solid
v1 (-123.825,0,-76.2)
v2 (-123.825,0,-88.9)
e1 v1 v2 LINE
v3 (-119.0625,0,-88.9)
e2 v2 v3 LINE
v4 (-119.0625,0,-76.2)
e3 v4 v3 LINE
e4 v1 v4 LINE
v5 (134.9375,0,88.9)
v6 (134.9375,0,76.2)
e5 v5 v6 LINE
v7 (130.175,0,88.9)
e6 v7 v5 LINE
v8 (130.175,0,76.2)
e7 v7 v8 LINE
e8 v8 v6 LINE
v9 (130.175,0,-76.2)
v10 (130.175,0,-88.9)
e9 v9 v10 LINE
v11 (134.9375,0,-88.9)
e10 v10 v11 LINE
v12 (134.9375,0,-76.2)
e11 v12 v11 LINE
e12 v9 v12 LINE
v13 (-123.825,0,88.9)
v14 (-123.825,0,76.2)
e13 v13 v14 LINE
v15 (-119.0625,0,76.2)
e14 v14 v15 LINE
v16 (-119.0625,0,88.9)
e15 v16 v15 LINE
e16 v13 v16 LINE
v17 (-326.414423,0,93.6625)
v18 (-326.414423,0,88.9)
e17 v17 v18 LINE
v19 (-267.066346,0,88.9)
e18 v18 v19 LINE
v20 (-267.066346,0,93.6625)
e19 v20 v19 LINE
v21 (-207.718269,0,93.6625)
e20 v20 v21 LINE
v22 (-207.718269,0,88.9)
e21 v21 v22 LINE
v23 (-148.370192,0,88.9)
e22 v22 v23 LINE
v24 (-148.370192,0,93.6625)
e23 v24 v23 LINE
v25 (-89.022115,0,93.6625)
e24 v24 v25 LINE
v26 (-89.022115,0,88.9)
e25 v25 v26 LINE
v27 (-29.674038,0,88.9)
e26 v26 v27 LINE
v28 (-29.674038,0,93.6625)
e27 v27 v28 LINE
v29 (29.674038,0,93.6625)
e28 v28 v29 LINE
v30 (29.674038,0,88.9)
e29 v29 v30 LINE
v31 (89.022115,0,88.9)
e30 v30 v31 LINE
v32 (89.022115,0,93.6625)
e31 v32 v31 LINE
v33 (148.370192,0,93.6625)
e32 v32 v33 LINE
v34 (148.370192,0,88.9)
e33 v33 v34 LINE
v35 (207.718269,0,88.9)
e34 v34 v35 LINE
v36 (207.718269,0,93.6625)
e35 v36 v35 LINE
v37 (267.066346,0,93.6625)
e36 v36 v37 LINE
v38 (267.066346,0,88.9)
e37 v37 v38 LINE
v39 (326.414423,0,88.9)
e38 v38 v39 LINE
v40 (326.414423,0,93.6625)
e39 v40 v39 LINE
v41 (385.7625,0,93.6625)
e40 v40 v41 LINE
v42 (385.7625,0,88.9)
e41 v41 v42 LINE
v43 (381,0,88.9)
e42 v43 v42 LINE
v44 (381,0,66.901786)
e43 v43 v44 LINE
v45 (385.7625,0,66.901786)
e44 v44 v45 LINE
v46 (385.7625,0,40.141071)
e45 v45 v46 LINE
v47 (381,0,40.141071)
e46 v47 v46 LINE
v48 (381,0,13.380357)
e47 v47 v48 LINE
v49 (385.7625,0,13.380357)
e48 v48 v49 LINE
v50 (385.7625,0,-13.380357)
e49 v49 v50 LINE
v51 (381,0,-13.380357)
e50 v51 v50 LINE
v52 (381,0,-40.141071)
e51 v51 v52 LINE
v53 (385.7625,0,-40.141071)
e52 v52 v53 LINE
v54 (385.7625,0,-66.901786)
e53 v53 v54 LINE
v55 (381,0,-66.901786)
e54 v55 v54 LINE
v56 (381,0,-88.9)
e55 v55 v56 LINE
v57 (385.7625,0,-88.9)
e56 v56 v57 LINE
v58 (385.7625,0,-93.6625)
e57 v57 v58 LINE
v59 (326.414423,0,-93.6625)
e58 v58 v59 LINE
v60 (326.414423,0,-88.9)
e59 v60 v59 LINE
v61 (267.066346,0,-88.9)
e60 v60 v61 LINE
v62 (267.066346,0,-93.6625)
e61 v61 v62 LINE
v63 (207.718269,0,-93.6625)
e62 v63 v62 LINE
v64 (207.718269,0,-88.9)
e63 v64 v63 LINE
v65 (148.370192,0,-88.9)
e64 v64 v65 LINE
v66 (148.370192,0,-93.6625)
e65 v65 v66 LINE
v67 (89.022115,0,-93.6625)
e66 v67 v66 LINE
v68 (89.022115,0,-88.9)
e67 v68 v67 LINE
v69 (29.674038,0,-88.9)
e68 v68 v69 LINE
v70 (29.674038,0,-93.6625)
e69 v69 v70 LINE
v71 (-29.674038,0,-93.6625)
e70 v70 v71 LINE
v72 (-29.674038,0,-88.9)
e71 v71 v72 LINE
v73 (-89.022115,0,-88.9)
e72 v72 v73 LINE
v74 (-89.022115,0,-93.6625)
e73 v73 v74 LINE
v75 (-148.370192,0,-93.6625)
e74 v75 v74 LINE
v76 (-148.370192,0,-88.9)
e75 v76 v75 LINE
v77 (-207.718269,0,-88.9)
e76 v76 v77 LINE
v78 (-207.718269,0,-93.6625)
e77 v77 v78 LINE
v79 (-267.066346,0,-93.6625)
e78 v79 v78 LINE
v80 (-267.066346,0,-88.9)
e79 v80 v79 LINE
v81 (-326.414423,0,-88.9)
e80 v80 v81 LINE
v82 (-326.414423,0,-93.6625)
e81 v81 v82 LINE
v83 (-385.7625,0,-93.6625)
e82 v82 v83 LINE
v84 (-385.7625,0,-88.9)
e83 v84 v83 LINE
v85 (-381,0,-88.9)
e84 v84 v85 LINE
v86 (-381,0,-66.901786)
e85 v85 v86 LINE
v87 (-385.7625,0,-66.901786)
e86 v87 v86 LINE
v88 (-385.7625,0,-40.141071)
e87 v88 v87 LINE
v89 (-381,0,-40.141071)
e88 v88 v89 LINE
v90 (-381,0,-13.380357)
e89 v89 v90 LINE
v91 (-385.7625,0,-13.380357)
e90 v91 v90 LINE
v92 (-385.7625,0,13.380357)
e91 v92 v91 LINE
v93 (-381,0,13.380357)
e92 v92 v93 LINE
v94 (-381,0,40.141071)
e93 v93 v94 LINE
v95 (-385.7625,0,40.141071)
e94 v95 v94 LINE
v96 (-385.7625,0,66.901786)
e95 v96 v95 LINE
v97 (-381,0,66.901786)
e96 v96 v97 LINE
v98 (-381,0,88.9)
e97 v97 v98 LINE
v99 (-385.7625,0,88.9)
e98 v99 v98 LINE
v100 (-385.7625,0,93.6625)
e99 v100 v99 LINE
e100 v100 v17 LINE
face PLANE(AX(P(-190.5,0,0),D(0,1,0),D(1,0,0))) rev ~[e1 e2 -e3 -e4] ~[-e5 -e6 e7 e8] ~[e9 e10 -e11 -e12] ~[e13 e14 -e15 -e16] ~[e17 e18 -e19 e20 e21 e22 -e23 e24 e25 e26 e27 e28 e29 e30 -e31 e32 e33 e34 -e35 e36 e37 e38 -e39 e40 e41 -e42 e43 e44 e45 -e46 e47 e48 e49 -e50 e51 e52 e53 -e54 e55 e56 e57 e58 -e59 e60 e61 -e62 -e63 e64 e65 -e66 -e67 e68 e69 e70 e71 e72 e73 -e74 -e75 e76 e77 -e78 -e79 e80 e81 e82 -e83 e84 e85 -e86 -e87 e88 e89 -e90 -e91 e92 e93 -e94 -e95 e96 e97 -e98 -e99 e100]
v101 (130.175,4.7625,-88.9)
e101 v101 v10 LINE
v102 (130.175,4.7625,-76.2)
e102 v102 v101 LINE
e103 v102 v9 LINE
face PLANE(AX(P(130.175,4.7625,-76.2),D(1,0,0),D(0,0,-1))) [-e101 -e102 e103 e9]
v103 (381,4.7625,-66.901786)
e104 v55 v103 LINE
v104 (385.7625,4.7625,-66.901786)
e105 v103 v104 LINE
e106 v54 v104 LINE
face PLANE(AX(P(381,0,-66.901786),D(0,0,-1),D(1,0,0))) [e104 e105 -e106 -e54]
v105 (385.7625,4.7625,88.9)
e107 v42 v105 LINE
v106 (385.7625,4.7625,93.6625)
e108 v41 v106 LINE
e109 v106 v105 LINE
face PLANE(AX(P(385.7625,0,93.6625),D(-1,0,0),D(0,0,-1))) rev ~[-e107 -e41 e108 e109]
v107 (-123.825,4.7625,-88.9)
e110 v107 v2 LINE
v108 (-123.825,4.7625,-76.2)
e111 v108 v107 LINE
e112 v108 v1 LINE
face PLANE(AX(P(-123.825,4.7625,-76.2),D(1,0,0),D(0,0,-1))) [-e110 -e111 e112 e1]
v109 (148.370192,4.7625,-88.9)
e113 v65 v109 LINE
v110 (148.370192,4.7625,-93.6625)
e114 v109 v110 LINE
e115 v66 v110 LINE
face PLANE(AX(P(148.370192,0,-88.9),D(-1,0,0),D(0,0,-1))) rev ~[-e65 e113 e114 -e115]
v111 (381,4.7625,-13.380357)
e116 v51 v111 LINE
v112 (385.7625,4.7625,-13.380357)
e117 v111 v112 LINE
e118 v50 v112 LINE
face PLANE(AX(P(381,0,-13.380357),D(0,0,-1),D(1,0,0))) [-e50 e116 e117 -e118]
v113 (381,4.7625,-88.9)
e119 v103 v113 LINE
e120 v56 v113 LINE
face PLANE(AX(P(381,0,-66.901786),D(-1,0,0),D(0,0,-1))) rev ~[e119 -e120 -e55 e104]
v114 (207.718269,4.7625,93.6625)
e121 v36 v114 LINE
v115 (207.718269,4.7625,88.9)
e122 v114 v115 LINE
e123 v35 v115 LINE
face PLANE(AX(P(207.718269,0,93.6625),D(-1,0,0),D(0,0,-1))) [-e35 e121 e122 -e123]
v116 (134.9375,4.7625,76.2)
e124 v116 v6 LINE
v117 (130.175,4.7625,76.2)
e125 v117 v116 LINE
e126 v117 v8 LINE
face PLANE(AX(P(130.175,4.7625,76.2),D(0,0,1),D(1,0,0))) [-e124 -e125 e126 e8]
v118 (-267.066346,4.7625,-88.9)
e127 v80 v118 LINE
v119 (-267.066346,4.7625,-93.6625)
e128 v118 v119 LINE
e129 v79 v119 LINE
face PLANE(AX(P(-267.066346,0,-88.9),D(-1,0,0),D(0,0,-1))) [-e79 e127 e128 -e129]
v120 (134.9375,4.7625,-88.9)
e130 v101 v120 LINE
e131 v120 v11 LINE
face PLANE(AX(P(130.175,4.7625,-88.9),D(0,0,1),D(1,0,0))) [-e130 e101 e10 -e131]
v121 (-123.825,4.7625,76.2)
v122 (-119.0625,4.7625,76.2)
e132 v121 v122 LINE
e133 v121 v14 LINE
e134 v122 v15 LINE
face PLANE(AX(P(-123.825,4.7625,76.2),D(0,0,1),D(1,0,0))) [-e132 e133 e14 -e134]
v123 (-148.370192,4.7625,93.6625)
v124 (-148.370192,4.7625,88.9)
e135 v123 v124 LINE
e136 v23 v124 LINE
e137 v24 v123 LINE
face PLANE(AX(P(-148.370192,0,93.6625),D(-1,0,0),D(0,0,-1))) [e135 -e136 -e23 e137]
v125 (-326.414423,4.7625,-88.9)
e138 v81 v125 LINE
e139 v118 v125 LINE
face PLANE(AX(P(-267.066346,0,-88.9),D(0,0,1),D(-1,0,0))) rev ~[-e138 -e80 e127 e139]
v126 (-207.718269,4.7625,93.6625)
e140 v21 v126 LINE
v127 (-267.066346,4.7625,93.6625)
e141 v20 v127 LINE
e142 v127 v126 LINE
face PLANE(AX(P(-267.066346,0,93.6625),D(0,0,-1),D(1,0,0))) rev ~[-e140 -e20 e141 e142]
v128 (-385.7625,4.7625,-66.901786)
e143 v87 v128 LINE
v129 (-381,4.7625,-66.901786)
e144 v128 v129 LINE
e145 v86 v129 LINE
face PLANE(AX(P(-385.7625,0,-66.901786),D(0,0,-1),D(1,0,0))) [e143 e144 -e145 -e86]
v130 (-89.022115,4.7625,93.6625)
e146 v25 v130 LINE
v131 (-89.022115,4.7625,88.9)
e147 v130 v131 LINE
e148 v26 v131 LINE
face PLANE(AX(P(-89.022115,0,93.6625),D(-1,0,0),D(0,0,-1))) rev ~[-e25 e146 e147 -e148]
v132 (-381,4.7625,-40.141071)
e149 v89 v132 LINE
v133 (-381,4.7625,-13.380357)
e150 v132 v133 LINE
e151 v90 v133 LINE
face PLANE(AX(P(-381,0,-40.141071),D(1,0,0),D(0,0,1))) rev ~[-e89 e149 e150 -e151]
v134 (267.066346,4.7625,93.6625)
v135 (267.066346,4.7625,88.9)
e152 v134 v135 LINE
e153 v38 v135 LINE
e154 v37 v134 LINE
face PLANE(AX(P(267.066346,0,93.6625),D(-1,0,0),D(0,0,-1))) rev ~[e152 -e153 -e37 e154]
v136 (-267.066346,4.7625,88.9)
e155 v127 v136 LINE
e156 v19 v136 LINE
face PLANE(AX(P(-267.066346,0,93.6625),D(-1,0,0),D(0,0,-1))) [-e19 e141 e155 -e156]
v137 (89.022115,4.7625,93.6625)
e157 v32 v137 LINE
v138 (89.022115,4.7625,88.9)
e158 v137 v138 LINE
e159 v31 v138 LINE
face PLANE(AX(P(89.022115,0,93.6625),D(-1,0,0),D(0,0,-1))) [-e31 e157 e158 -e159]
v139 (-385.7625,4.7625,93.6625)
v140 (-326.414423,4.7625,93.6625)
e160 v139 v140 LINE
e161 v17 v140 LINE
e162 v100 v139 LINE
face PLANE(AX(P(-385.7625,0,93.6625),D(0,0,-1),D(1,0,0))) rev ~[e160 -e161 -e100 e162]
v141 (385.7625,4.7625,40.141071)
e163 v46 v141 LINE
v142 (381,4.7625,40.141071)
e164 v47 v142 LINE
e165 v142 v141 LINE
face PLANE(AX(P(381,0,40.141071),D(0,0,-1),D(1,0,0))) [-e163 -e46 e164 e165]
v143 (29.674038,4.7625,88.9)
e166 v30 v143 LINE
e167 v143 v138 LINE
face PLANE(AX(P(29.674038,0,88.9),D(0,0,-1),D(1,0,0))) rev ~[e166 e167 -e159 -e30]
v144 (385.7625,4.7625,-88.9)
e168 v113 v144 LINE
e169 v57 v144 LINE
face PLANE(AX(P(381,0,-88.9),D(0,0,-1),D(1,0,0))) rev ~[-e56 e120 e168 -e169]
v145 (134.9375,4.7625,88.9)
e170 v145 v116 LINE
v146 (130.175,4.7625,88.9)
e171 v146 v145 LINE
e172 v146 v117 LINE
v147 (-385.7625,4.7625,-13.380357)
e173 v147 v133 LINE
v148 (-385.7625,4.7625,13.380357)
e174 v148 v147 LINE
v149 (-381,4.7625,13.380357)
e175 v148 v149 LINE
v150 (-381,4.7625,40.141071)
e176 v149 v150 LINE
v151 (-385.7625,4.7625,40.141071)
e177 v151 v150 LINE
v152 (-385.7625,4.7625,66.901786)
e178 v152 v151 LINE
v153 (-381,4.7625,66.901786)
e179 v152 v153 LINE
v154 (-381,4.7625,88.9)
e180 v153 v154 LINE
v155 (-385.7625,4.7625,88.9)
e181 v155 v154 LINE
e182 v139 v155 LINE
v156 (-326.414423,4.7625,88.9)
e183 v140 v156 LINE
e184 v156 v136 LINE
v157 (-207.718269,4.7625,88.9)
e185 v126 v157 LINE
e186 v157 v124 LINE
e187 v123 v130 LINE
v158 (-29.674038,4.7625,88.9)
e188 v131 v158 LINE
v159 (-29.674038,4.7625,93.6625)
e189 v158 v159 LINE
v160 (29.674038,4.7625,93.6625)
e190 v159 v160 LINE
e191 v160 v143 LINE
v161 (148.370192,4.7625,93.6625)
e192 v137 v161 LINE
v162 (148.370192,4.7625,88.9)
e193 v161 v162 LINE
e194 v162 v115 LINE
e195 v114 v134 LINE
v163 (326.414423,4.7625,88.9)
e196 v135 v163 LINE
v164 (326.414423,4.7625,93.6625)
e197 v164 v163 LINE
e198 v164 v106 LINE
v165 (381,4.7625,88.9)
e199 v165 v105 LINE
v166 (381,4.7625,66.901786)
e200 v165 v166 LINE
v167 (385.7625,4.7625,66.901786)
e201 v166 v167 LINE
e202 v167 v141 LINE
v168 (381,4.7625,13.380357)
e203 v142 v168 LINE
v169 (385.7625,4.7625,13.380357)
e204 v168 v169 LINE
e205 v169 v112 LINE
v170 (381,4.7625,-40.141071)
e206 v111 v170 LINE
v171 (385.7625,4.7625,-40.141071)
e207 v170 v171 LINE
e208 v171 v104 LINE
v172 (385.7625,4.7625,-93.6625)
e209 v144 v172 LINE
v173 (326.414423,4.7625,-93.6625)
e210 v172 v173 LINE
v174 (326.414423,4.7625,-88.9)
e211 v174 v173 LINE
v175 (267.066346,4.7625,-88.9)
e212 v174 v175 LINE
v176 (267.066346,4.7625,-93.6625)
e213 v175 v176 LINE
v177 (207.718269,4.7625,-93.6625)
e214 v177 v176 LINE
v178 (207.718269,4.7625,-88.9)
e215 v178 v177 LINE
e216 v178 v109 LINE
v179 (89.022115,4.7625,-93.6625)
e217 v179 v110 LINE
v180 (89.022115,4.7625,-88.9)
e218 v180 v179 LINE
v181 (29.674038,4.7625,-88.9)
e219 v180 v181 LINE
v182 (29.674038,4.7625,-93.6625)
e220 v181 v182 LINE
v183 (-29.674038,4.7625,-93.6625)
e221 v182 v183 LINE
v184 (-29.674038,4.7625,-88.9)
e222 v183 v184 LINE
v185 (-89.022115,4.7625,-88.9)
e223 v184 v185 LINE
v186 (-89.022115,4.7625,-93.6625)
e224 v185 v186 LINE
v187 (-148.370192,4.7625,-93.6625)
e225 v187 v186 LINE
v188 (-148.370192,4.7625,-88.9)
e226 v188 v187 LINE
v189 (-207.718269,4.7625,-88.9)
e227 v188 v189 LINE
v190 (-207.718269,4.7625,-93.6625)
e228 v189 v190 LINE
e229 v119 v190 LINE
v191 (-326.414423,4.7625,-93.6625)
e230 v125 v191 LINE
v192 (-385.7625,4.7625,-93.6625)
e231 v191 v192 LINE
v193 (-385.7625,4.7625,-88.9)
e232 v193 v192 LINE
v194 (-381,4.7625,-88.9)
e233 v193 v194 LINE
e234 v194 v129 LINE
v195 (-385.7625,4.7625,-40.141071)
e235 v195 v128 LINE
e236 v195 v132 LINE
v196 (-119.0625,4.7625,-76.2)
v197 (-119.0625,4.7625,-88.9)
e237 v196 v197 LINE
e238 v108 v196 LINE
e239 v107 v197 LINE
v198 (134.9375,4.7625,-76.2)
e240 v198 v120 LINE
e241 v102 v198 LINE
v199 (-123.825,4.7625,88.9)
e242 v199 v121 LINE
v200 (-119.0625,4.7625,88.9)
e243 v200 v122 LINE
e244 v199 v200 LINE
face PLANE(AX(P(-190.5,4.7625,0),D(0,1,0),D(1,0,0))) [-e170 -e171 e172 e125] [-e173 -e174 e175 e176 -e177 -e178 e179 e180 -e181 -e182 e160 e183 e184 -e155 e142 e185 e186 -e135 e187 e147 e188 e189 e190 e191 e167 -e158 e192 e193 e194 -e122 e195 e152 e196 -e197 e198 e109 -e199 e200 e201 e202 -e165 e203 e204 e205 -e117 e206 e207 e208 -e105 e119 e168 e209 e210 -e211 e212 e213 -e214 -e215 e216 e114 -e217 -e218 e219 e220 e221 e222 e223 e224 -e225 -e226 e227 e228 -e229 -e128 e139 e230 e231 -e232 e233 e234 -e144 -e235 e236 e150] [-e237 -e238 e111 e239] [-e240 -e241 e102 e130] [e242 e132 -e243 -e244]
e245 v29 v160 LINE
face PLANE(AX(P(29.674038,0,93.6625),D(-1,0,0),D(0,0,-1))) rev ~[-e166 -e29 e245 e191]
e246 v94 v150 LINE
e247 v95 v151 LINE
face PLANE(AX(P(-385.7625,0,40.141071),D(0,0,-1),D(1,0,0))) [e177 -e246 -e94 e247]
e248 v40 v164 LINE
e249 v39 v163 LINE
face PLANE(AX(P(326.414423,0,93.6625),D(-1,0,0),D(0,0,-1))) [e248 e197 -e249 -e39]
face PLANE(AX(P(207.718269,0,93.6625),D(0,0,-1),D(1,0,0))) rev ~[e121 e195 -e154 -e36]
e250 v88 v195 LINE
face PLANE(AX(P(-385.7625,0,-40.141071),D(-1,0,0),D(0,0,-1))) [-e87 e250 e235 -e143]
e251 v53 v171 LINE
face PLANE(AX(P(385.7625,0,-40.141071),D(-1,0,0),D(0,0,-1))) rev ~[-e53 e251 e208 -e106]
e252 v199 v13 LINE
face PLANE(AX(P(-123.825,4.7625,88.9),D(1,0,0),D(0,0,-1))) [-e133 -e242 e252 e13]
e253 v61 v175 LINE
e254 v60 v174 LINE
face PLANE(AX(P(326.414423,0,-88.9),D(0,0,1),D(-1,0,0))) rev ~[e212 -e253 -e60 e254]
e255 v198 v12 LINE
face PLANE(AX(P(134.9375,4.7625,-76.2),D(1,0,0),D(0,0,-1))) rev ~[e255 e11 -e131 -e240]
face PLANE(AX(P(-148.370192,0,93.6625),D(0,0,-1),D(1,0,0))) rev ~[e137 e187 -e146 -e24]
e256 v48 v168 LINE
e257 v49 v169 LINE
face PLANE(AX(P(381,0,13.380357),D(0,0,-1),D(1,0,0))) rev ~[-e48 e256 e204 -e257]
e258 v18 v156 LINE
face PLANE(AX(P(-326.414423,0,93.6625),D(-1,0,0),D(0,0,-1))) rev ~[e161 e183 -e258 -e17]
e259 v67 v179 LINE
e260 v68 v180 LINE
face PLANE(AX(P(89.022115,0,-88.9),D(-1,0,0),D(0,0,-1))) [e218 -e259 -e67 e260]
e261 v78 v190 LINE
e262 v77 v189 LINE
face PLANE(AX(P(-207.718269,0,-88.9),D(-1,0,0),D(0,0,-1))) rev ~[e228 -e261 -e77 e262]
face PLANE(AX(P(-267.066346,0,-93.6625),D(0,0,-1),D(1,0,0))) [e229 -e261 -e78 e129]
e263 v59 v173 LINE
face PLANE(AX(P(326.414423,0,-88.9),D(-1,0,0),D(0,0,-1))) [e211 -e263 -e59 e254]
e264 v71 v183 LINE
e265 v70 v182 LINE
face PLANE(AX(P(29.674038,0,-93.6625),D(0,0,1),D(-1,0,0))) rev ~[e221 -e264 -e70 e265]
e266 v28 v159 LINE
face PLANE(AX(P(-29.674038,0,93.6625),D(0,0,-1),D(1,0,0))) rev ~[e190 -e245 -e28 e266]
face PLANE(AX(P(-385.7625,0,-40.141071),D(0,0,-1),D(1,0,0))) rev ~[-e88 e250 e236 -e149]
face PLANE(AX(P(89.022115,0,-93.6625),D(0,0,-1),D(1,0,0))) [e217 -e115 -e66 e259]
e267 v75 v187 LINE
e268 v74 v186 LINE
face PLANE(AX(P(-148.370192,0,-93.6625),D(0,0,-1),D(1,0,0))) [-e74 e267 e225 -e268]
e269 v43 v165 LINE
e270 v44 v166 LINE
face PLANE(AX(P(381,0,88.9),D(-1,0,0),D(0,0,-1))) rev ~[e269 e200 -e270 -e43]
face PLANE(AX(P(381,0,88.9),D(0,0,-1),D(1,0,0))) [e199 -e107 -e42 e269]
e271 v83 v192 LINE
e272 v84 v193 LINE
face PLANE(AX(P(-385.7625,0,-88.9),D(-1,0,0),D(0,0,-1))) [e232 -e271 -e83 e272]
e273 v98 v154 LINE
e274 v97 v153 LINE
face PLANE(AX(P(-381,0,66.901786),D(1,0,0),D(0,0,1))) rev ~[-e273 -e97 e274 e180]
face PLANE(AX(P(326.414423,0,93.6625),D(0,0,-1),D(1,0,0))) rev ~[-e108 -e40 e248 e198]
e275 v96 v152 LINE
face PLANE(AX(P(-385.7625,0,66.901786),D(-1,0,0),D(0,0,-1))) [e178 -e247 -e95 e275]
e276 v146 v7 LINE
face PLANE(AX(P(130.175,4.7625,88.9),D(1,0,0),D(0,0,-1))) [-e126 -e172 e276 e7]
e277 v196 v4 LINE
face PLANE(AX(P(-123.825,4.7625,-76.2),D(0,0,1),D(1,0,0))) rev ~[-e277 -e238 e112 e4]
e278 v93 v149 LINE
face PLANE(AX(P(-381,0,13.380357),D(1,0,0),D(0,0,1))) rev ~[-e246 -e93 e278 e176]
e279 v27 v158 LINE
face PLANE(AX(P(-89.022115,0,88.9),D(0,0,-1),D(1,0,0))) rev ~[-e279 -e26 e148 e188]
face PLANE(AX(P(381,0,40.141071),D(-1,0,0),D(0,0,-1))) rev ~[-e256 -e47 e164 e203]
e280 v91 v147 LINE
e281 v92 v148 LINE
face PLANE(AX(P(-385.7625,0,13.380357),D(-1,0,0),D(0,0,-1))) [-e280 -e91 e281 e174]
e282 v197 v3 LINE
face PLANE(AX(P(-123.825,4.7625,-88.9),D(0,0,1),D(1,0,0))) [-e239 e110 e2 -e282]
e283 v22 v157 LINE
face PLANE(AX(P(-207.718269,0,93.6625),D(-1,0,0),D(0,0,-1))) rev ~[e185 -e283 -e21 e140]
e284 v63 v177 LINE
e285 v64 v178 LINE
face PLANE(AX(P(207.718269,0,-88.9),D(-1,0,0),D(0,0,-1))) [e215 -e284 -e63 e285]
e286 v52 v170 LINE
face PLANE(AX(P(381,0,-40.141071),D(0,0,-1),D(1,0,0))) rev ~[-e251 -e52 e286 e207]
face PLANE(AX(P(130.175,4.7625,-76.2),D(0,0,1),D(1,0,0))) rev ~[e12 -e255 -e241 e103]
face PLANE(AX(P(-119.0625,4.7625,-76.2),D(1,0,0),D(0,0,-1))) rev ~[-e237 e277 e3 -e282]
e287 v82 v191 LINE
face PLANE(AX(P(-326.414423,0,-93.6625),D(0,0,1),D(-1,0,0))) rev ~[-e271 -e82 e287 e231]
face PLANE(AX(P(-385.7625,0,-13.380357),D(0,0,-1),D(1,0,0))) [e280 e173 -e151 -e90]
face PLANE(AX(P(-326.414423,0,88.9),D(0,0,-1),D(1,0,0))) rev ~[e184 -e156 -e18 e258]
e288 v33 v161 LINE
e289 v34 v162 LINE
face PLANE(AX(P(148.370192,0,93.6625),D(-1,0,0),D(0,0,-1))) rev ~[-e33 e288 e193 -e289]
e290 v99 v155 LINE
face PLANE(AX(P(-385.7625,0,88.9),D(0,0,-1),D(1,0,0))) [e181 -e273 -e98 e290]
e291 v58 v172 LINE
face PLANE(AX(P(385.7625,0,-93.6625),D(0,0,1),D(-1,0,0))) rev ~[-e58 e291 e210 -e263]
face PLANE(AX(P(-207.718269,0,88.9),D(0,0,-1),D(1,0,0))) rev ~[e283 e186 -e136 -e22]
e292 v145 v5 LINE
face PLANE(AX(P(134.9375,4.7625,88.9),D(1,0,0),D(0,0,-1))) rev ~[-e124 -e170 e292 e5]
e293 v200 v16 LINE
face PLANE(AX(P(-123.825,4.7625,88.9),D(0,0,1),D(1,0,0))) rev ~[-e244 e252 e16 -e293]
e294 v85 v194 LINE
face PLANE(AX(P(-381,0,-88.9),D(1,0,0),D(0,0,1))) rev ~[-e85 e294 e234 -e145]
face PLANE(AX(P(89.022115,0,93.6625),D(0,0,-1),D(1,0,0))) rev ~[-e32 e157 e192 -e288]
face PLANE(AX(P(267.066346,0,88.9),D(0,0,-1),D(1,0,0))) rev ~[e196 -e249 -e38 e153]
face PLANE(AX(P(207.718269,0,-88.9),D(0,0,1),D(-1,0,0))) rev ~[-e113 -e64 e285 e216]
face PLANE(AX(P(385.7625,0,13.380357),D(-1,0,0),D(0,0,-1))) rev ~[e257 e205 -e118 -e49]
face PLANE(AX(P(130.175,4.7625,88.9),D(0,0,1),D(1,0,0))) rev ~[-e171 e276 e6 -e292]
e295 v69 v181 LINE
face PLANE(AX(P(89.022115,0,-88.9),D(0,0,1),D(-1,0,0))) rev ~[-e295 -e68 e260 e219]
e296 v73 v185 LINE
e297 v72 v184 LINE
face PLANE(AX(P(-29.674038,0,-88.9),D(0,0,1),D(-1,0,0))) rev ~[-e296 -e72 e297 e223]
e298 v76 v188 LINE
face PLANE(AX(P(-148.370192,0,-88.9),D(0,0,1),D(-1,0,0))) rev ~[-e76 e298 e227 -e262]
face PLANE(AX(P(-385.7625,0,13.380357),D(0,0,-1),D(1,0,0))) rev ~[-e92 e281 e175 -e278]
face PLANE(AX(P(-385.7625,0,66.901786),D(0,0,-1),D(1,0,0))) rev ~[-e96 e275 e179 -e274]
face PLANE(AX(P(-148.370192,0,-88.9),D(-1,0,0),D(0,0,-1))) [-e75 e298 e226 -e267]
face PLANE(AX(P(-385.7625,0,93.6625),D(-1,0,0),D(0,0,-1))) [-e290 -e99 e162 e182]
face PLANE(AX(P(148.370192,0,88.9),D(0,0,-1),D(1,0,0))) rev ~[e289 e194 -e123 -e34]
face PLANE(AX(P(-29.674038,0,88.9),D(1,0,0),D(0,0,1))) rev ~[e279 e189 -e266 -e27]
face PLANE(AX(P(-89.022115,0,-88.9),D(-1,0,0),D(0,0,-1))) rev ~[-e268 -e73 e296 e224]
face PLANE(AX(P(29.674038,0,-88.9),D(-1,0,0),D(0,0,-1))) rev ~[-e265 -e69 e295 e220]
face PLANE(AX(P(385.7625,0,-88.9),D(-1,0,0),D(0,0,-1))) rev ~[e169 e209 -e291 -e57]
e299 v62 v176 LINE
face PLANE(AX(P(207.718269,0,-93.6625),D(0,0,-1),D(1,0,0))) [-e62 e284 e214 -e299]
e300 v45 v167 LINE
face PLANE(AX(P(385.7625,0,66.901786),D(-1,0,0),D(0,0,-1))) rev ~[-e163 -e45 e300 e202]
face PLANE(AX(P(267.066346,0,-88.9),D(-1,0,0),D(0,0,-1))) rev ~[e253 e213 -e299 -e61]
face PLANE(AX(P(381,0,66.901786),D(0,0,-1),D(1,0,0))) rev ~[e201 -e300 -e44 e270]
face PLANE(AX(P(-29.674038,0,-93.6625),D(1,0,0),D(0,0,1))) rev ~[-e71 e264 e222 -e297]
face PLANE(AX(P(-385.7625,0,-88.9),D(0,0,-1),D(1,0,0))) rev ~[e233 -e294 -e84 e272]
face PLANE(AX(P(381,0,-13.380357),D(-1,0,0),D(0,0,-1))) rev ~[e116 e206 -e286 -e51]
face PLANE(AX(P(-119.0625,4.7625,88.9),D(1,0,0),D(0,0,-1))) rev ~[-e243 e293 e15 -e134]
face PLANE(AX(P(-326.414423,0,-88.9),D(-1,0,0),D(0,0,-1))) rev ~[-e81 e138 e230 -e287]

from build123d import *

# Parameters (mm, degrees)
SKETCH1_W           = 54.585576923
SKETCH1_H           = 4.7625
SKETCH1_W_2         = 4.7625
SKETCH1_W_3         = 59.348076923
SKETCH1_H_2         = 26.760714285
SKETCH1_H_3         = 26.760714286
BOSS_EXTRUDE1_DEPTH = 4.7625
SKETCH2_W           = 4.7625
SKETCH2_H           = 12.7
CUT_EXTRUDE1_DEPTH  = 397.998805689


with BuildPart() as part:
    # Sketch1 → Boss-Extrude1 (new body)
    with BuildSketch(Plane(origin=(0, 0, 0), x_dir=(1, 0, 0), z_dir=(0, 1, 0))):
        Polygon((0, -88.9), (0, 88.9), (-29.674038462, 88.9), (-89.022115385, 88.9), (-148.370192308, 88.9), (-207.718269231, 88.9), (-267.066346154, 88.9), (-326.414423077, 88.9), (-381, 88.9), (-381, 66.901785714), (-381, 40.141071429), (-381, 13.380357143), (-381, -13.380357143), (-381, -40.141071429), (-381, -66.901785714), (-381, -88.9), (-326.414423077, -88.9), (-267.066346154, -88.9), (-207.718269231, -88.9), (-148.370192308, -88.9), (-89.022115385, -88.9), (-29.674038462, -88.9), align=None)
        Polygon((29.674038462, 88.9), (0, 88.9), (0, -88.9), (29.674038462, -88.9), (89.022115385, -88.9), (148.370192308, -88.9), (207.718269231, -88.9), (267.066346154, -88.9), (326.414423077, -88.9), (381, -88.9), (381, -66.901785714), (381, -40.141071429), (381, -13.380357143), (381, 13.380357143), (381, 40.141071429), (381, 66.901785714), (381, 88.9), (326.414423077, 88.9), (267.066346154, 88.9), (207.718269231, 88.9), (148.370192308, 88.9), (89.022115385, 88.9), align=None)
        with Locations((-353.707211539, -91.28125)):
            Rectangle(SKETCH1_W, SKETCH1_H)
        with Locations((-383.38125, -91.28125)):
            Rectangle(SKETCH1_W_2, SKETCH1_H)
        with Locations((-237.392307693, -91.28125)):
            Rectangle(SKETCH1_W_3, SKETCH1_H)
        with Locations((-383.38125, -53.521428571)):
            Rectangle(SKETCH1_W_2, SKETCH1_H_2)
        with Locations((-118.696153847, -91.28125)):
            Rectangle(SKETCH1_W_3, SKETCH1_H)
        with Locations((-383.38125, 0)):
            Rectangle(SKETCH1_W_2, SKETCH1_H_3)
        with Locations((-383.38125, 53.521428571)):
            Rectangle(SKETCH1_W_2, SKETCH1_H_2)
        with Locations((-383.38125, 91.28125)):
            Rectangle(SKETCH1_W_2, SKETCH1_H)
        with Locations((-353.707211539, 91.28125)):
            Rectangle(SKETCH1_W, SKETCH1_H)
        with Locations((-237.392307693, 91.28125)):
            Rectangle(SKETCH1_W_3, SKETCH1_H)
        with Locations((-118.696153847, 91.28125)):
            Rectangle(SKETCH1_W_3, SKETCH1_H)
        Polygon((-29.674038462, 88.9), (0, 88.9), (29.674038462, 88.9), (29.674038462, 93.6625), (-29.674038462, 93.6625), align=None)
        with Locations((118.696153847, 91.28125)):
            Rectangle(SKETCH1_W_3, SKETCH1_H)
        Polygon((29.674038462, -88.9), (0, -88.9), (-29.674038462, -88.9), (-29.674038462, -93.6625), (29.674038462, -93.6625), align=None)
        with Locations((118.696153847, -91.28125)):
            Rectangle(SKETCH1_W_3, SKETCH1_H)
        with Locations((237.392307693, -91.28125)):
            Rectangle(SKETCH1_W_3, SKETCH1_H)
        with Locations((237.392307693, 91.28125)):
            Rectangle(SKETCH1_W_3, SKETCH1_H)
        with Locations((383.38125, 91.28125)):
            Rectangle(SKETCH1_W_2, SKETCH1_H)
        with Locations((383.38125, 53.521428571)):
            Rectangle(SKETCH1_W_2, SKETCH1_H_2)
        with Locations((383.38125, 0)):
            Rectangle(SKETCH1_W_2, SKETCH1_H_3)
        with Locations((383.38125, -53.521428571)):
            Rectangle(SKETCH1_W_2, SKETCH1_H_2)
        with Locations((383.38125, -91.28125)):
            Rectangle(SKETCH1_W_2, SKETCH1_H)
        with Locations((356.088461539, -91.28125)):
            Rectangle(SKETCH1_W_3, SKETCH1_H)
        with Locations((356.088461539, 91.28125)):
            Rectangle(SKETCH1_W_3, SKETCH1_H)
    extrude(amount=BOSS_EXTRUDE1_DEPTH)

    # Sketch2 → Cut-Extrude1 (cut, through all)
    with BuildSketch(Plane(origin=(0, 4.7625, 0), x_dir=(1, 0, 0), z_dir=(0, 1, 0))):
        with Locations((-121.44375, 82.55)):
            Rectangle(SKETCH2_W, SKETCH2_H)
        with Locations((-121.44375, -82.55)):
            Rectangle(SKETCH2_W, SKETCH2_H)
        with Locations((132.55625, 82.55)):
            Rectangle(SKETCH2_W, SKETCH2_H)
        with Locations((132.55625, -82.55)):
            Rectangle(SKETCH2_W, SKETCH2_H)
    extrude(amount=-CUT_EXTRUDE1_DEPTH, mode=Mode.SUBTRACT)


solid = part.part
